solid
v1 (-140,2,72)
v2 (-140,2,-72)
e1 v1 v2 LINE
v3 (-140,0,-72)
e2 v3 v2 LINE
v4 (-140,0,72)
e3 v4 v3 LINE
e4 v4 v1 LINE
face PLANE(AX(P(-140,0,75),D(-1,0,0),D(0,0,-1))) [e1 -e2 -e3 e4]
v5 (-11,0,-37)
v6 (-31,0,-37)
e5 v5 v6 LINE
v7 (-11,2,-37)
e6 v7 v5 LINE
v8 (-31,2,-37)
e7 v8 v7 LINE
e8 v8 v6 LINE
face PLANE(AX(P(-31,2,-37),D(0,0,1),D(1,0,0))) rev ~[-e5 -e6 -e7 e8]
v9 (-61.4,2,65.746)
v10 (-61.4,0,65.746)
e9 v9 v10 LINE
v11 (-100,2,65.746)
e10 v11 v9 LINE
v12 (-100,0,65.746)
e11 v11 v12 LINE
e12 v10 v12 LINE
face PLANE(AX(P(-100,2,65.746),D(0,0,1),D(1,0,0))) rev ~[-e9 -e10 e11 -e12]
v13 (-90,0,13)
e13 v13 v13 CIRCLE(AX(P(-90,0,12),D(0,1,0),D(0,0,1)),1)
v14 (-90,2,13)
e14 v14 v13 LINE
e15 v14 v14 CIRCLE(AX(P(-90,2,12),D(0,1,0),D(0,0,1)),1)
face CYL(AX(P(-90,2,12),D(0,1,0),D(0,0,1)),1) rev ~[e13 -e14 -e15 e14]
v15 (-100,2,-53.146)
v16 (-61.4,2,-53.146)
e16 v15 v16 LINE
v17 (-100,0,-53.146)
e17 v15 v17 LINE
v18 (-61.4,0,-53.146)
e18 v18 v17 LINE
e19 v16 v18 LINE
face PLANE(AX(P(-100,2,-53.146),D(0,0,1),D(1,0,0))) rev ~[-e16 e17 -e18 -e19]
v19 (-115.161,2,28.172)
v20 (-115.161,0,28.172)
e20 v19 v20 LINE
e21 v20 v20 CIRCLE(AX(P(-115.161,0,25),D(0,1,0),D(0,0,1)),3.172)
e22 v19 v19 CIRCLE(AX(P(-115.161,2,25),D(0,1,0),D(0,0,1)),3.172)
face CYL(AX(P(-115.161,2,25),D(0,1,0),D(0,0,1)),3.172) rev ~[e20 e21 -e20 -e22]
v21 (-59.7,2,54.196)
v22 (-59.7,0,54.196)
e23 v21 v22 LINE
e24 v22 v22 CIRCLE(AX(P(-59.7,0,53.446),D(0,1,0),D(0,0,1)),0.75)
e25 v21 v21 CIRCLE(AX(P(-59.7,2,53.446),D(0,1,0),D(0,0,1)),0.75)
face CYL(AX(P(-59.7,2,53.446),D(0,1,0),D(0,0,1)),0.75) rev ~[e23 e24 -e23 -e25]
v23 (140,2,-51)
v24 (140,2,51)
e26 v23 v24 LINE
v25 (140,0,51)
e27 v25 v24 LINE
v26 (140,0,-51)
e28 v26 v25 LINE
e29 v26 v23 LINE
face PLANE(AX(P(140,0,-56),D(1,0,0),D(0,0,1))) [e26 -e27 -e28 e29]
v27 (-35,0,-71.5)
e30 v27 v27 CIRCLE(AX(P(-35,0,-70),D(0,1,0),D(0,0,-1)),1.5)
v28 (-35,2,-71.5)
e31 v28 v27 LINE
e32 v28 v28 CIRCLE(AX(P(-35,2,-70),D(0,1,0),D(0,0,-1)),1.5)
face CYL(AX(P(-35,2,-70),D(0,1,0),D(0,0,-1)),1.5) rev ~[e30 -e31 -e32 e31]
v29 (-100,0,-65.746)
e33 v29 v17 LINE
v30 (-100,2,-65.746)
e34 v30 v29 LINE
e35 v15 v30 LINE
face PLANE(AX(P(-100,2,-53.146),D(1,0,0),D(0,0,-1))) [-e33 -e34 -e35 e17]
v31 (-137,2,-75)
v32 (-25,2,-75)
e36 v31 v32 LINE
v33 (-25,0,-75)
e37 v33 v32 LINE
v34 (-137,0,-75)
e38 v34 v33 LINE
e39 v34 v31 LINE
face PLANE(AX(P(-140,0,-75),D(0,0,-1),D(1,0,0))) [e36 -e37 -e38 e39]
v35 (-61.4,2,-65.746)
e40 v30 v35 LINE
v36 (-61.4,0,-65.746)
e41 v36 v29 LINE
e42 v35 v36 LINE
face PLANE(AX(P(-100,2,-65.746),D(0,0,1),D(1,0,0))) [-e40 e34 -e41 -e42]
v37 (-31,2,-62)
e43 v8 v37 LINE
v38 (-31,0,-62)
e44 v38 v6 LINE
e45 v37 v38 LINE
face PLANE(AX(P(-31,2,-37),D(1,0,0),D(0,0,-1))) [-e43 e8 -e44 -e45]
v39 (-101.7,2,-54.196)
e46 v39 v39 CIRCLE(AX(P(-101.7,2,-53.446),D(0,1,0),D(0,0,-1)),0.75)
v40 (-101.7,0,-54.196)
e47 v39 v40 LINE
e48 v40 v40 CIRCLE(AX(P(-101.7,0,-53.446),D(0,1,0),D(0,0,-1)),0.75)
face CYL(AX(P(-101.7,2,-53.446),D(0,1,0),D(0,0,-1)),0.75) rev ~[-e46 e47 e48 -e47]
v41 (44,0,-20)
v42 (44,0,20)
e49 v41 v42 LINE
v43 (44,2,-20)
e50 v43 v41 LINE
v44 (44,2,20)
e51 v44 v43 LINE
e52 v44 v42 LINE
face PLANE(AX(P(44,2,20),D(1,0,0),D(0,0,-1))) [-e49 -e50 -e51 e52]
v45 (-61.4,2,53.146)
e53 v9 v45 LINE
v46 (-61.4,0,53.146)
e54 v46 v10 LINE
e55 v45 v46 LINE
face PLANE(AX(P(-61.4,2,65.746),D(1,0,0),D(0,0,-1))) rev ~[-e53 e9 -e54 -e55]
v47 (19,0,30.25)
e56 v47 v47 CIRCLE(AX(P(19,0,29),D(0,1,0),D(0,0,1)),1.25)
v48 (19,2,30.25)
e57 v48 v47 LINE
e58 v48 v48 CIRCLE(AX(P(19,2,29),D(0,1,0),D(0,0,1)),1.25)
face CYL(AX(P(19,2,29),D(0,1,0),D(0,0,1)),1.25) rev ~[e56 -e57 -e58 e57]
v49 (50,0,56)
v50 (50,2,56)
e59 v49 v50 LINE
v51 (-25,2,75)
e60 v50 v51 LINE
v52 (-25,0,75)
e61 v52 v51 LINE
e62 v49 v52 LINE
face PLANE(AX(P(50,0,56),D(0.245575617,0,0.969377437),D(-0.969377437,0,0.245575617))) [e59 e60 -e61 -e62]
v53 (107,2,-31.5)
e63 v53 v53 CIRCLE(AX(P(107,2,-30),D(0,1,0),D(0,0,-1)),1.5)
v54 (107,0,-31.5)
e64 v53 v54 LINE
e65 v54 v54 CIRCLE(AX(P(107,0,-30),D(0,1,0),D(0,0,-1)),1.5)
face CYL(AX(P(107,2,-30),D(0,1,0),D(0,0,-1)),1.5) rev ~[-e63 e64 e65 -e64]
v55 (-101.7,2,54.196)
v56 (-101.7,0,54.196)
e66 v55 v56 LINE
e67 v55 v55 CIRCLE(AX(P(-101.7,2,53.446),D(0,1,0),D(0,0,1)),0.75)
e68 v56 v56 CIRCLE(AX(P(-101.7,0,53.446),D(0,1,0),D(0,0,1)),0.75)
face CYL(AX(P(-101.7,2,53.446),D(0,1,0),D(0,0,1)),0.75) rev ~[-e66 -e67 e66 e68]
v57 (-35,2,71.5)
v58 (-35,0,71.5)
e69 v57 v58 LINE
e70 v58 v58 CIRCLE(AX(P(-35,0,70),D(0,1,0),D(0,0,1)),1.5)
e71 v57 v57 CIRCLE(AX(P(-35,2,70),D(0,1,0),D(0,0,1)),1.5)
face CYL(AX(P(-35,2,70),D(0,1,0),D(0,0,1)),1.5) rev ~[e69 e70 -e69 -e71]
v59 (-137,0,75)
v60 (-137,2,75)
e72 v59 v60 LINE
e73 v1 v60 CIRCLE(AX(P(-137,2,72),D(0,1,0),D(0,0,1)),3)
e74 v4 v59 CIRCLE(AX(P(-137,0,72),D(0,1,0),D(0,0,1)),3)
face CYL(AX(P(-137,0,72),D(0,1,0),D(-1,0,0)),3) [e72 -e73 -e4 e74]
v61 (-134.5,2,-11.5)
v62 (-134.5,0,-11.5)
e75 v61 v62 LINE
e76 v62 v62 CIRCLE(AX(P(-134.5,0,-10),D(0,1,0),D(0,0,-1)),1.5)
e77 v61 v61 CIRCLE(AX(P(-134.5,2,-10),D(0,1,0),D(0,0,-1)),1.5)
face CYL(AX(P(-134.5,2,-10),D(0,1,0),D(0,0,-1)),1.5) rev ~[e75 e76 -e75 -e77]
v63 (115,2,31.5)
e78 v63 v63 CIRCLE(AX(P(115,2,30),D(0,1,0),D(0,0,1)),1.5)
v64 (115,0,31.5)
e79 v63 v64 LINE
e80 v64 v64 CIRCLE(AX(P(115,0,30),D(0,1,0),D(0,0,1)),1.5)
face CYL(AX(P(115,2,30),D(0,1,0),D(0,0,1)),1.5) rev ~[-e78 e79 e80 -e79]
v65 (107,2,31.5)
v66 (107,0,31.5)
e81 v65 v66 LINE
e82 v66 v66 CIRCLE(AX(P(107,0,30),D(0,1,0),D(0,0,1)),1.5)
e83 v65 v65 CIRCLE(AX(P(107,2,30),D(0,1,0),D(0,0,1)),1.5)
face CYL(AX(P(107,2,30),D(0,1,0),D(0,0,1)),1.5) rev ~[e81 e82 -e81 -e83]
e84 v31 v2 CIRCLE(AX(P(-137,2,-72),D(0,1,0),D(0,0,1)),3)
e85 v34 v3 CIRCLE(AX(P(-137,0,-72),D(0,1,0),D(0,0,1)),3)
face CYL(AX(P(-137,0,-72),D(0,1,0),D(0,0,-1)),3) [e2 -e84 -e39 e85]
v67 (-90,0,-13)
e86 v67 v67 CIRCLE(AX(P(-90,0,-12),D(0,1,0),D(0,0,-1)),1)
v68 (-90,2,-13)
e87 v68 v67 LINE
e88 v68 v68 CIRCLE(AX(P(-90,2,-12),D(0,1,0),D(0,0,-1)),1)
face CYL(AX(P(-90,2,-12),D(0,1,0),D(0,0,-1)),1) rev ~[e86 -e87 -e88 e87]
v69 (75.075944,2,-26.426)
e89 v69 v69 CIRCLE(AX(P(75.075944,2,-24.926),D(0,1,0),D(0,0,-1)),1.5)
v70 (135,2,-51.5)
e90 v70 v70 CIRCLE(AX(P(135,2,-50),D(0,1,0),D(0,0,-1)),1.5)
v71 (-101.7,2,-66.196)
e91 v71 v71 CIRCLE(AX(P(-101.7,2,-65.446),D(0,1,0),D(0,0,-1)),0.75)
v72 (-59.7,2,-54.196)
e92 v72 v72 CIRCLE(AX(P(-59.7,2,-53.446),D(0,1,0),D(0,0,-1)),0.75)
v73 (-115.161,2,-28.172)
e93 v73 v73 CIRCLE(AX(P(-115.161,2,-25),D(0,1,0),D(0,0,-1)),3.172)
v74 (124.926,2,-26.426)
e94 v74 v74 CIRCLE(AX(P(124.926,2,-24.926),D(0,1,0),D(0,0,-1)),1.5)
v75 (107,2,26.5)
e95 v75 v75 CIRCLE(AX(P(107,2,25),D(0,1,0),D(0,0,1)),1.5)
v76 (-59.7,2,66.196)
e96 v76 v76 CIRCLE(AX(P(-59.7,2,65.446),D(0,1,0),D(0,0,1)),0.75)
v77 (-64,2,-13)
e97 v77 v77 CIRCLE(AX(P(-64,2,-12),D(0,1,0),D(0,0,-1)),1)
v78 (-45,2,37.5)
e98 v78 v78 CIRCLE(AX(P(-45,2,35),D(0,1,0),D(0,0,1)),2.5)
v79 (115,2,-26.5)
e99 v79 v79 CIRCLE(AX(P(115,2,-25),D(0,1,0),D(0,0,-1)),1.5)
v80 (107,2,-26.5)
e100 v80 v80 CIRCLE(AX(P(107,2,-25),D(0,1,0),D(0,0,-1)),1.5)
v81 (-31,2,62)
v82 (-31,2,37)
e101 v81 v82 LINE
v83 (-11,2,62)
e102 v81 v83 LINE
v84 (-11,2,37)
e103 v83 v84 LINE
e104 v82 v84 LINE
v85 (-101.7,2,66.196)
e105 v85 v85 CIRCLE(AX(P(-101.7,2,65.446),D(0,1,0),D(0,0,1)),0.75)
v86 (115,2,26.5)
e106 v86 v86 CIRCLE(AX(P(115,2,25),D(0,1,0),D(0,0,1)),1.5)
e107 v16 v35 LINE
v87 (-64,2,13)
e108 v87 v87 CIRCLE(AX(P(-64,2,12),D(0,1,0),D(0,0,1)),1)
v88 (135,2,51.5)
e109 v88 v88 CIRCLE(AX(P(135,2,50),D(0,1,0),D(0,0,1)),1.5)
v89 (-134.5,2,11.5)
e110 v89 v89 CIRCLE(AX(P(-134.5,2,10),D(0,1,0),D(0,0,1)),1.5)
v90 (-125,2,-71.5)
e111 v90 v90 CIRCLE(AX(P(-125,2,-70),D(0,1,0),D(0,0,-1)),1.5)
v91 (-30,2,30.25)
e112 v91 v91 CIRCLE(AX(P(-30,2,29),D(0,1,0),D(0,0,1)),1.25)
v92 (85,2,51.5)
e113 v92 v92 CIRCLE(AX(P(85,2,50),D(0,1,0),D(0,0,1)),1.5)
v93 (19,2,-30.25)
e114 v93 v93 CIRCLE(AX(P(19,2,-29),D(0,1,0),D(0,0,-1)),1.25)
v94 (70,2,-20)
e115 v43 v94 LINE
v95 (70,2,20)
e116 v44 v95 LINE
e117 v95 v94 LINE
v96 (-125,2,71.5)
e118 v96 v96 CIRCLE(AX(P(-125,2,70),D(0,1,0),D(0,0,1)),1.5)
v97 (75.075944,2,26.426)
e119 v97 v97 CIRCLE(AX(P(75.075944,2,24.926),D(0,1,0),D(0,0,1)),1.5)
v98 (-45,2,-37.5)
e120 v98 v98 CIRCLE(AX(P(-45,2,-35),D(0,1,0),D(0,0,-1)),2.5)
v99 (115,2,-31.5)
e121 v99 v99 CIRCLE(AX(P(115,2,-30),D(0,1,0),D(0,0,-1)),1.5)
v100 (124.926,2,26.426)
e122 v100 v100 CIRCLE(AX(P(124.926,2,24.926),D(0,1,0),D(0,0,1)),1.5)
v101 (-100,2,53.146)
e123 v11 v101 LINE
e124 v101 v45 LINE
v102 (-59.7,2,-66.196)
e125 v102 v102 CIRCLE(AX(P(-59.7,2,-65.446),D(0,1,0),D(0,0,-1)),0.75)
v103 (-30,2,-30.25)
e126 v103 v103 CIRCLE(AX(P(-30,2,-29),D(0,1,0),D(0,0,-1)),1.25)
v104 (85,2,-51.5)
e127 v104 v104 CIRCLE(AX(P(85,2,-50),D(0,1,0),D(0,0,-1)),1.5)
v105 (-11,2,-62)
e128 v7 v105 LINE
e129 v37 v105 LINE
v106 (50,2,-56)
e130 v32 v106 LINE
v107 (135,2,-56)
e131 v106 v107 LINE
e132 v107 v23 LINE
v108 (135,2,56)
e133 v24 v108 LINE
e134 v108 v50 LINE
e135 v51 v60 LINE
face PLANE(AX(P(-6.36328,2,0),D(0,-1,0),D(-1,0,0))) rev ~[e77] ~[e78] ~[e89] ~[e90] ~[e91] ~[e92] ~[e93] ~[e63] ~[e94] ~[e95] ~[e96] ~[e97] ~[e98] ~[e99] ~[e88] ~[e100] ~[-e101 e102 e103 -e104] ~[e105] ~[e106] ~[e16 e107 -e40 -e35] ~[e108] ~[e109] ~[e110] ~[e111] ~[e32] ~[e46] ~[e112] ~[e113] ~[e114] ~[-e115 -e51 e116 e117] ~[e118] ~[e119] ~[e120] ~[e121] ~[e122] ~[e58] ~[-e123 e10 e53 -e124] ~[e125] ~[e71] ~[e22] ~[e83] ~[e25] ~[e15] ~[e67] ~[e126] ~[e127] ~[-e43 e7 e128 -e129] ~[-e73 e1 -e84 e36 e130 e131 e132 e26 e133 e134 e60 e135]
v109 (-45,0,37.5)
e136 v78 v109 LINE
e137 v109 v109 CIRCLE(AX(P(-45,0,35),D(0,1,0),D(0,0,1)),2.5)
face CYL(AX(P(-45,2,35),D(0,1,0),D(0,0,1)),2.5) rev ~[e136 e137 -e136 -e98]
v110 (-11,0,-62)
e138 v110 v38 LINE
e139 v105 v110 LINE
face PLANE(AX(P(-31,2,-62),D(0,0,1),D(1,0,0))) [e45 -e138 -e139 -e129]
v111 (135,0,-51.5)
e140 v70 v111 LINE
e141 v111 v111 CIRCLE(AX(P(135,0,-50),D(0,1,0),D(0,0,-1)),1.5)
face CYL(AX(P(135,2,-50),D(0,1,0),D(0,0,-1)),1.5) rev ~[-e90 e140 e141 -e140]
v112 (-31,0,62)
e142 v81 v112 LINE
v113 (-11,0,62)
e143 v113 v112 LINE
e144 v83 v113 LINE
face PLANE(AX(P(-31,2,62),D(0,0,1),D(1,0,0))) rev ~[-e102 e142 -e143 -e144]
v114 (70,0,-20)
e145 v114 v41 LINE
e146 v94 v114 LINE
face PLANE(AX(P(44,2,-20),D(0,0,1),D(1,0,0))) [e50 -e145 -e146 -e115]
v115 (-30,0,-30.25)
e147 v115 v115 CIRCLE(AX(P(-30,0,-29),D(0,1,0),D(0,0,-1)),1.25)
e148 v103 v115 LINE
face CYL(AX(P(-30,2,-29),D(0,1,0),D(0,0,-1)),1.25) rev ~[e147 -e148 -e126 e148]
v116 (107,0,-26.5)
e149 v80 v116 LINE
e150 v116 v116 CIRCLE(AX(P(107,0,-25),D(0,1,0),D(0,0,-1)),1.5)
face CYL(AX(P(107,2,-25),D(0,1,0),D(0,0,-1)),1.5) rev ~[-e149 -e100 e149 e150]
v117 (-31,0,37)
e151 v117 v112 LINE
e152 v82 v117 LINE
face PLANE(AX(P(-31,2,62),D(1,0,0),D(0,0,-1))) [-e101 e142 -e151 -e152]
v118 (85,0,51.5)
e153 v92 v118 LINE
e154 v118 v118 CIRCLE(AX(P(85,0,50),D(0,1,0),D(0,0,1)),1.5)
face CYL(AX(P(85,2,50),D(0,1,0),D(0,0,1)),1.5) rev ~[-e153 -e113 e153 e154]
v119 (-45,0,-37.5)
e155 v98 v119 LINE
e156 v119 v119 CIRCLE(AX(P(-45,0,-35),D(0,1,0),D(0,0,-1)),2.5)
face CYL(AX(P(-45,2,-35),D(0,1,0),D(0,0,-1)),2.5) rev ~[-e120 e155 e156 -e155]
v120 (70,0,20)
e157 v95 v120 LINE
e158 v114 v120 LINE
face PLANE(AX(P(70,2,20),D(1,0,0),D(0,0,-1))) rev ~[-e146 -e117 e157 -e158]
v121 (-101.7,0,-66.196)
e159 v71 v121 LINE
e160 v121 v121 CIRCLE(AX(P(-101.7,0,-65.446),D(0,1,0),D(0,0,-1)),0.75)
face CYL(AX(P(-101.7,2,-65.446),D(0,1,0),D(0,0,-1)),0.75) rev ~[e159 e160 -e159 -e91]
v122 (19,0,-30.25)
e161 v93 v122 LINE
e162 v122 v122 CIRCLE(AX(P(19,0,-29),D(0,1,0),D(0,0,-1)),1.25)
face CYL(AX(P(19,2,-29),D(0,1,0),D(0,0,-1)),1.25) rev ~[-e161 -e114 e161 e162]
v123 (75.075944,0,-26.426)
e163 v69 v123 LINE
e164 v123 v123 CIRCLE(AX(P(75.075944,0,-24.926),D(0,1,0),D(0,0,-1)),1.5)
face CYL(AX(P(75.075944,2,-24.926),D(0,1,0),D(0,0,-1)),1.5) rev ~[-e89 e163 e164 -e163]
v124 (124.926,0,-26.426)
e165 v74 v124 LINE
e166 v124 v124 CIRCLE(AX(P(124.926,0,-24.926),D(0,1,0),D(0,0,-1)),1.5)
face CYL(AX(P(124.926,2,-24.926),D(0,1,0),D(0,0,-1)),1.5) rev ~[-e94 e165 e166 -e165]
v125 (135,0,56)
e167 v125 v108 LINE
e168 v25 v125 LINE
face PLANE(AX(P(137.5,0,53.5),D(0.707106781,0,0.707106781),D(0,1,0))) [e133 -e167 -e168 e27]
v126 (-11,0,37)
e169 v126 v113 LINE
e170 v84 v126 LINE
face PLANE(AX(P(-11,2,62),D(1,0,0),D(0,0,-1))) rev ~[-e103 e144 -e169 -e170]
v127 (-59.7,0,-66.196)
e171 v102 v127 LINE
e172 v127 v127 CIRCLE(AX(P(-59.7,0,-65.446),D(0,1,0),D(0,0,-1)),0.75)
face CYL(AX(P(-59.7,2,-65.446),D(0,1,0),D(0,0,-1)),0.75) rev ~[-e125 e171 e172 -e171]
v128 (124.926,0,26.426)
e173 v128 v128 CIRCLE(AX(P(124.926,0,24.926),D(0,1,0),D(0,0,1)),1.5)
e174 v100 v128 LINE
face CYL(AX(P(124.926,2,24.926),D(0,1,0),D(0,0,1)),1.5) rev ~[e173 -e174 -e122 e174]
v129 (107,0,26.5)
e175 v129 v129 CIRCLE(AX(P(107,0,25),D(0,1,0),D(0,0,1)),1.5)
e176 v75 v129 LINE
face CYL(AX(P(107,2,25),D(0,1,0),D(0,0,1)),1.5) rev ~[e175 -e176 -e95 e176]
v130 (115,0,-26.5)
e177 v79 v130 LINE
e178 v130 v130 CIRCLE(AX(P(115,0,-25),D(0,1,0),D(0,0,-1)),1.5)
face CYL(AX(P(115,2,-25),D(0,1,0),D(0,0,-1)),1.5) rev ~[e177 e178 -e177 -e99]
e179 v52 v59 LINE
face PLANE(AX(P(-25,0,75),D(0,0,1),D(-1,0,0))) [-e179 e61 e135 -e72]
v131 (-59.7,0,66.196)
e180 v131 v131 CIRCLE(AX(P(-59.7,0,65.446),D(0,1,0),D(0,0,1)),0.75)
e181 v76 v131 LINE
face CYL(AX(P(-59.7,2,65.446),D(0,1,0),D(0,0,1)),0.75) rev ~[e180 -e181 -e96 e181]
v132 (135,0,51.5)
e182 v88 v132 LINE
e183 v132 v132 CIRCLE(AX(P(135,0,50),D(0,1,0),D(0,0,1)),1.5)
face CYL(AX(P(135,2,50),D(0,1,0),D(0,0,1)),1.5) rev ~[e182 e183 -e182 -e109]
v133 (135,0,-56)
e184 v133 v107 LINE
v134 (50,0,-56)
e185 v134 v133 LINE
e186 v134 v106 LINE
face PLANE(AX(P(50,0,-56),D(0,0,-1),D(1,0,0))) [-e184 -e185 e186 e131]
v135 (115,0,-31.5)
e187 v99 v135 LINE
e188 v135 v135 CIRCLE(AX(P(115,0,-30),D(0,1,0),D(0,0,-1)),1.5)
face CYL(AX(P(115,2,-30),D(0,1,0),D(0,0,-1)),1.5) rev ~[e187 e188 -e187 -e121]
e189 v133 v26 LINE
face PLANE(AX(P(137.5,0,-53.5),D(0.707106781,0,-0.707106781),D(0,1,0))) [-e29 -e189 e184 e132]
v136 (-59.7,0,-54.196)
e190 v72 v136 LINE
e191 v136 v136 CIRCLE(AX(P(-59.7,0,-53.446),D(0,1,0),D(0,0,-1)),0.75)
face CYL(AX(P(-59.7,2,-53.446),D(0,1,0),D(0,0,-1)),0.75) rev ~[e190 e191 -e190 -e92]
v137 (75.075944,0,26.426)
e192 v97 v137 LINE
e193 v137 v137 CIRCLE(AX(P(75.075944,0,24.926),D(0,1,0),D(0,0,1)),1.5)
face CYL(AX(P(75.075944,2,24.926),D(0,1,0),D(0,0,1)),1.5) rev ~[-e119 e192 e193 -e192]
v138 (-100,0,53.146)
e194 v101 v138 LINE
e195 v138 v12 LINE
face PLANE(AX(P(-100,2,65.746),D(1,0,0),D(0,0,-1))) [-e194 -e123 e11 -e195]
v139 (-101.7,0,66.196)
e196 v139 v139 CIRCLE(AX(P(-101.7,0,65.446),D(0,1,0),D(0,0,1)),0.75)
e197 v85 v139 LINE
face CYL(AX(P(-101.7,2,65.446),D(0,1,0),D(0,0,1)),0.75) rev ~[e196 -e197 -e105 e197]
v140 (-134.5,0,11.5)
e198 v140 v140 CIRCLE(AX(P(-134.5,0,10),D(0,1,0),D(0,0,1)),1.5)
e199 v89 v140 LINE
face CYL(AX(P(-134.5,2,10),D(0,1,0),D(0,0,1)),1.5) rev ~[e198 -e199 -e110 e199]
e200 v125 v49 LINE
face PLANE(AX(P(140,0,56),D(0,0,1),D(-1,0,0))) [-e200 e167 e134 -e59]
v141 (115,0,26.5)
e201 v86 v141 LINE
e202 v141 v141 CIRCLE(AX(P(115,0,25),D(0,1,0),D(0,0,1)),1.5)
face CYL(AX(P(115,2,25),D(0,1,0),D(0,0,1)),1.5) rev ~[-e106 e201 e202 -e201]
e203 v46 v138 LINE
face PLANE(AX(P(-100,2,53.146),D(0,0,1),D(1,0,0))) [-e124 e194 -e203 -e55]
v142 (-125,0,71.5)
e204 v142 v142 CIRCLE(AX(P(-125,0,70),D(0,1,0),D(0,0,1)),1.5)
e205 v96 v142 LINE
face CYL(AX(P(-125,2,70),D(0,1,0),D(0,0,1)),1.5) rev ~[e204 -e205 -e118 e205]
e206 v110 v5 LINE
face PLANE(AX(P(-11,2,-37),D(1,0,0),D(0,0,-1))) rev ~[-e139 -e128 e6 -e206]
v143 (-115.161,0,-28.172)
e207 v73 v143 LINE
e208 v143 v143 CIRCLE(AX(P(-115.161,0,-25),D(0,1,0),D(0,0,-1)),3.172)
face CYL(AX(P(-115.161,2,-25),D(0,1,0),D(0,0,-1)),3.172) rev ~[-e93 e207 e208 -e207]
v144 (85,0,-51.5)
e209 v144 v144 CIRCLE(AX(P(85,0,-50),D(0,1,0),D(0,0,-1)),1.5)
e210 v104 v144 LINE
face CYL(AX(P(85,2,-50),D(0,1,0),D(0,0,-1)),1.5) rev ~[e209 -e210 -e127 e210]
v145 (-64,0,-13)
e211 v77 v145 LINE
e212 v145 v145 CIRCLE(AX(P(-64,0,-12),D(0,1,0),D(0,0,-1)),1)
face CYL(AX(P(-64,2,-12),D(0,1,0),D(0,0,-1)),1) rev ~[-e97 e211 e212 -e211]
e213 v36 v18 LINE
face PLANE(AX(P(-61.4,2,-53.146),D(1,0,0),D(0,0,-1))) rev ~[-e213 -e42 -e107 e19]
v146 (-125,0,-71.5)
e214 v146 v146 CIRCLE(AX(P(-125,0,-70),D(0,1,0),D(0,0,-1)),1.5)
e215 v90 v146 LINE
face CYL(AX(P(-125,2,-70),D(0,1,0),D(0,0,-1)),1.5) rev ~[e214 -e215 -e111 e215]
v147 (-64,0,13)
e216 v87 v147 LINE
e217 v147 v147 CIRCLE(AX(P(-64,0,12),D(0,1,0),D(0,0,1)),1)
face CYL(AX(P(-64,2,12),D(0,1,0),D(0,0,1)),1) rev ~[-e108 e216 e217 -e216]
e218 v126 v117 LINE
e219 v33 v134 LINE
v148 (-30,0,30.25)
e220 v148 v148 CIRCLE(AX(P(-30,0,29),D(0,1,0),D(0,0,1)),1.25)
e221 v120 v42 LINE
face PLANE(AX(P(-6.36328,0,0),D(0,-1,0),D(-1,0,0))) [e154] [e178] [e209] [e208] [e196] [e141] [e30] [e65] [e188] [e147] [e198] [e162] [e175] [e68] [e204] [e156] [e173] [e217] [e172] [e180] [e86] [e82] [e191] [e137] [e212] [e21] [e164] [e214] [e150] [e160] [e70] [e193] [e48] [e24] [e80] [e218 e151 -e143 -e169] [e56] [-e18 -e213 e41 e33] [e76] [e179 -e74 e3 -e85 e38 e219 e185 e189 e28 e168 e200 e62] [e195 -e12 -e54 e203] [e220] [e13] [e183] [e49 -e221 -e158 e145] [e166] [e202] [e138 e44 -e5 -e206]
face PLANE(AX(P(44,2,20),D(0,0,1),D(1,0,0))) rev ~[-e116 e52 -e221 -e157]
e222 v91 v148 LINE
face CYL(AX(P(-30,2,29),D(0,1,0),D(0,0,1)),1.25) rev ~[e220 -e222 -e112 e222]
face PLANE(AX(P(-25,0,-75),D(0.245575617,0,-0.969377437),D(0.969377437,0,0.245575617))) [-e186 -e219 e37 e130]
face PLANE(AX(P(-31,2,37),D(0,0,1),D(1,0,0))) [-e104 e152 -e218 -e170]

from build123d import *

# Parameters (mm, degrees)
SALIENTE_EXTRUIR1_DEPTH = 2
CROQUIS_BARRENOS_R      = 1.5
CROQUIS_BARRENOS_R_2    = 1
CROQUIS_BARRENOS_R_3    = 0.75
CROQUIS_BARRENOS_R_4    = 1.25
CROQUIS_BARRENOS_R_5    = 2.5
CROQUIS_BARRENOS_R_6    = 3.172
CROQUIS_BARRENOS_W      = 38.6
CROQUIS_BARRENOS_H      = 12.6
CROQUIS_BARRENOS_W_2    = 20
CROQUIS_BARRENOS_H_2    = 25
CROQUIS_BARRENOS_W_3    = 26
CROQUIS_BARRENOS_H_3    = 40
CORTAR_EXTRUIR1_DEPTH   = 159.836393815
REDONDEO1_R             = 3
CHAFL_N2_SIZE           = 5


with BuildPart() as part:
    # Croquis base → Saliente-Extruir1 (new body)
    with BuildSketch(Plane(origin=(0, 0, 0), x_dir=(1, 0, 0), z_dir=(0, 1, 0))):
        Polygon((-140, 75), (-25, 75), (50, 56), (140, 56), (140, -56), (50, -56), (-25, -75), (-140, -75), align=None)
    extrude(amount=SALIENTE_EXTRUIR1_DEPTH)

    # Croquis barrenos → Cortar-Extruir1 (cut, through all)
    with BuildSketch(Plane(origin=(0, 2, 0), x_dir=(1, 0, 0), z_dir=(0, 1, 0))):
        with Locations(Location((-125, -70, 0), (0, 0, 270))):
            Circle(CROQUIS_BARRENOS_R)
        with Locations(Location((-35, -70, 0), (0, 0, 270))):
            Circle(CROQUIS_BARRENOS_R)
        with Locations(Location((85, -50, 0), (0, 0, 270))):
            Circle(CROQUIS_BARRENOS_R)
        with Locations(Location((135, -50, 0), (0, 0, 270))):
            Circle(CROQUIS_BARRENOS_R)
        with Locations(Location((-134.5, -10, 0), (0, 0, 270))):
            Circle(CROQUIS_BARRENOS_R)
        with Locations(Location((-90, -12, 0), (0, 0, 270))):
            Circle(CROQUIS_BARRENOS_R_2)
        with Locations(Location((-64, -12, 0), (0, 0, 270))):
            Circle(CROQUIS_BARRENOS_R_2)
        with Locations(Location((-101.7, -53.446, 0), (0, 0, 270))):
            Circle(CROQUIS_BARRENOS_R_3)
        with Locations(Location((-101.7, -65.446, 0), (0, 0, 270))):
            Circle(CROQUIS_BARRENOS_R_3)
        with Locations(Location((-59.7, -53.446, 0), (0, 0, 270))):
            Circle(CROQUIS_BARRENOS_R_3)
        with Locations(Location((-59.7, -65.446, 0), (0, 0, 270))):
            Circle(CROQUIS_BARRENOS_R_3)
        with Locations(Location((-30, -29, 0), (0, 0, 270))):
            Circle(CROQUIS_BARRENOS_R_4)
        with Locations(Location((19, -29, 0), (0, 0, 270))):
            Circle(CROQUIS_BARRENOS_R_4)
        with Locations(Location((75.075943872, -24.926, 0), (0, 0, 270))):
            Circle(CROQUIS_BARRENOS_R)
        with Locations(Location((124.926, -24.926, 0), (0, 0, 270))):
            Circle(CROQUIS_BARRENOS_R)
        with Locations(Location((107, -25, 0), (0, 0, 270))):
            Circle(CROQUIS_BARRENOS_R)
        with Locations(Location((115, -25, 0), (0, 0, 270))):
            Circle(CROQUIS_BARRENOS_R)
        with Locations(Location((115, -30, 0), (0, 0, 270))):
            Circle(CROQUIS_BARRENOS_R)
        with Locations(Location((107, -30, 0), (0, 0, 270))):
            Circle(CROQUIS_BARRENOS_R)
        with Locations(Location((-45, -35, 0), (0, 0, 270))):
            Circle(CROQUIS_BARRENOS_R_5)
        with Locations(Location((-115.161, -25, 0), (0, 0, 270))):
            Circle(CROQUIS_BARRENOS_R_6)
        with Locations(Location((135, 50, 0), (0, 0, 90))):
            Circle(CROQUIS_BARRENOS_R)
        with Locations(Location((85, 50, 0), (0, 0, 90))):
            Circle(CROQUIS_BARRENOS_R)
        with Locations(Location((124.926, 24.926, 0), (0, 0, 90))):
            Circle(CROQUIS_BARRENOS_R)
        with Locations(Location((115, 30, 0), (0, 0, 90))):
            Circle(CROQUIS_BARRENOS_R)
        with Locations(Location((115, 25, 0), (0, 0, 90))):
            Circle(CROQUIS_BARRENOS_R)
        with Locations(Location((107, 25, 0), (0, 0, 90))):
            Circle(CROQUIS_BARRENOS_R)
        with Locations(Location((107, 30, 0), (0, 0, 90))):
            Circle(CROQUIS_BARRENOS_R)
        with Locations(Location((75.075943872, 24.926, 0), (0, 0, 90))):
            Circle(CROQUIS_BARRENOS_R)
        with Locations(Location((-90, 12, 0), (0, 0, 90))):
            Circle(CROQUIS_BARRENOS_R_2)
        with Locations(Location((-59.7, 65.446, 0), (0, 0, 90))):
            Circle(CROQUIS_BARRENOS_R_3)
        with Locations(Location((-59.7, 53.446, 0), (0, 0, 90))):
            Circle(CROQUIS_BARRENOS_R_3)
        with Locations(Location((-101.7, 53.446, 0), (0, 0, 90))):
            Circle(CROQUIS_BARRENOS_R_3)
        with Locations(Location((-101.7, 65.446, 0), (0, 0, 90))):
            Circle(CROQUIS_BARRENOS_R_3)
        with Locations(Location((19, 29, 0), (0, 0, 90))):
            Circle(CROQUIS_BARRENOS_R_4)
        with Locations(Location((-30, 29, 0), (0, 0, 90))):
            Circle(CROQUIS_BARRENOS_R_4)
        with Locations(Location((-64, 12, 0), (0, 0, 90))):
            Circle(CROQUIS_BARRENOS_R_2)
        with Locations(Location((-45, 35, 0), (0, 0, 90))):
            Circle(CROQUIS_BARRENOS_R_5)
        with Locations(Location((-35, 70, 0), (0, 0, 90))):
            Circle(CROQUIS_BARRENOS_R)
        with Locations(Location((-125, 70, 0), (0, 0, 90))):
            Circle(CROQUIS_BARRENOS_R)
        with Locations(Location((-115.161, 25, 0), (0, 0, 90))):
            Circle(CROQUIS_BARRENOS_R_6)
        with Locations(Location((-134.5, 10, 0), (0, 0, 90))):
            Circle(CROQUIS_BARRENOS_R)
        with Locations((-80.7, -59.446)):
            Rectangle(CROQUIS_BARRENOS_W, CROQUIS_BARRENOS_H)
        with Locations((-21, -49.5)):
            Rectangle(CROQUIS_BARRENOS_W_2, CROQUIS_BARRENOS_H_2)
        with Locations((57, 0)):
            Rectangle(CROQUIS_BARRENOS_W_3, CROQUIS_BARRENOS_H_3)
        with Locations((-80.7, 59.446)):
            Rectangle(CROQUIS_BARRENOS_W, CROQUIS_BARRENOS_H)
        with Locations((-21, 49.5)):
            Rectangle(CROQUIS_BARRENOS_W_2, CROQUIS_BARRENOS_H_2)
    extrude(amount=-CORTAR_EXTRUIR1_DEPTH, mode=Mode.SUBTRACT)

    # Redondeo1
    redondeo1_edges = [part.edges().sort_by_distance(p)[0] for p in [
        (-140, 1, -75),
        (-140, 1, 75),
    ]]
    fillet(redondeo1_edges, radius=REDONDEO1_R)

    # Chaflán2
    chafl_n2_edges = [part.edges().sort_by_distance(p)[0] for p in [
        (140, 1, -56),
        (140, 1, 56),
    ]]
    chamfer(chafl_n2_edges, length=CHAFL_N2_SIZE)


solid = part.part
